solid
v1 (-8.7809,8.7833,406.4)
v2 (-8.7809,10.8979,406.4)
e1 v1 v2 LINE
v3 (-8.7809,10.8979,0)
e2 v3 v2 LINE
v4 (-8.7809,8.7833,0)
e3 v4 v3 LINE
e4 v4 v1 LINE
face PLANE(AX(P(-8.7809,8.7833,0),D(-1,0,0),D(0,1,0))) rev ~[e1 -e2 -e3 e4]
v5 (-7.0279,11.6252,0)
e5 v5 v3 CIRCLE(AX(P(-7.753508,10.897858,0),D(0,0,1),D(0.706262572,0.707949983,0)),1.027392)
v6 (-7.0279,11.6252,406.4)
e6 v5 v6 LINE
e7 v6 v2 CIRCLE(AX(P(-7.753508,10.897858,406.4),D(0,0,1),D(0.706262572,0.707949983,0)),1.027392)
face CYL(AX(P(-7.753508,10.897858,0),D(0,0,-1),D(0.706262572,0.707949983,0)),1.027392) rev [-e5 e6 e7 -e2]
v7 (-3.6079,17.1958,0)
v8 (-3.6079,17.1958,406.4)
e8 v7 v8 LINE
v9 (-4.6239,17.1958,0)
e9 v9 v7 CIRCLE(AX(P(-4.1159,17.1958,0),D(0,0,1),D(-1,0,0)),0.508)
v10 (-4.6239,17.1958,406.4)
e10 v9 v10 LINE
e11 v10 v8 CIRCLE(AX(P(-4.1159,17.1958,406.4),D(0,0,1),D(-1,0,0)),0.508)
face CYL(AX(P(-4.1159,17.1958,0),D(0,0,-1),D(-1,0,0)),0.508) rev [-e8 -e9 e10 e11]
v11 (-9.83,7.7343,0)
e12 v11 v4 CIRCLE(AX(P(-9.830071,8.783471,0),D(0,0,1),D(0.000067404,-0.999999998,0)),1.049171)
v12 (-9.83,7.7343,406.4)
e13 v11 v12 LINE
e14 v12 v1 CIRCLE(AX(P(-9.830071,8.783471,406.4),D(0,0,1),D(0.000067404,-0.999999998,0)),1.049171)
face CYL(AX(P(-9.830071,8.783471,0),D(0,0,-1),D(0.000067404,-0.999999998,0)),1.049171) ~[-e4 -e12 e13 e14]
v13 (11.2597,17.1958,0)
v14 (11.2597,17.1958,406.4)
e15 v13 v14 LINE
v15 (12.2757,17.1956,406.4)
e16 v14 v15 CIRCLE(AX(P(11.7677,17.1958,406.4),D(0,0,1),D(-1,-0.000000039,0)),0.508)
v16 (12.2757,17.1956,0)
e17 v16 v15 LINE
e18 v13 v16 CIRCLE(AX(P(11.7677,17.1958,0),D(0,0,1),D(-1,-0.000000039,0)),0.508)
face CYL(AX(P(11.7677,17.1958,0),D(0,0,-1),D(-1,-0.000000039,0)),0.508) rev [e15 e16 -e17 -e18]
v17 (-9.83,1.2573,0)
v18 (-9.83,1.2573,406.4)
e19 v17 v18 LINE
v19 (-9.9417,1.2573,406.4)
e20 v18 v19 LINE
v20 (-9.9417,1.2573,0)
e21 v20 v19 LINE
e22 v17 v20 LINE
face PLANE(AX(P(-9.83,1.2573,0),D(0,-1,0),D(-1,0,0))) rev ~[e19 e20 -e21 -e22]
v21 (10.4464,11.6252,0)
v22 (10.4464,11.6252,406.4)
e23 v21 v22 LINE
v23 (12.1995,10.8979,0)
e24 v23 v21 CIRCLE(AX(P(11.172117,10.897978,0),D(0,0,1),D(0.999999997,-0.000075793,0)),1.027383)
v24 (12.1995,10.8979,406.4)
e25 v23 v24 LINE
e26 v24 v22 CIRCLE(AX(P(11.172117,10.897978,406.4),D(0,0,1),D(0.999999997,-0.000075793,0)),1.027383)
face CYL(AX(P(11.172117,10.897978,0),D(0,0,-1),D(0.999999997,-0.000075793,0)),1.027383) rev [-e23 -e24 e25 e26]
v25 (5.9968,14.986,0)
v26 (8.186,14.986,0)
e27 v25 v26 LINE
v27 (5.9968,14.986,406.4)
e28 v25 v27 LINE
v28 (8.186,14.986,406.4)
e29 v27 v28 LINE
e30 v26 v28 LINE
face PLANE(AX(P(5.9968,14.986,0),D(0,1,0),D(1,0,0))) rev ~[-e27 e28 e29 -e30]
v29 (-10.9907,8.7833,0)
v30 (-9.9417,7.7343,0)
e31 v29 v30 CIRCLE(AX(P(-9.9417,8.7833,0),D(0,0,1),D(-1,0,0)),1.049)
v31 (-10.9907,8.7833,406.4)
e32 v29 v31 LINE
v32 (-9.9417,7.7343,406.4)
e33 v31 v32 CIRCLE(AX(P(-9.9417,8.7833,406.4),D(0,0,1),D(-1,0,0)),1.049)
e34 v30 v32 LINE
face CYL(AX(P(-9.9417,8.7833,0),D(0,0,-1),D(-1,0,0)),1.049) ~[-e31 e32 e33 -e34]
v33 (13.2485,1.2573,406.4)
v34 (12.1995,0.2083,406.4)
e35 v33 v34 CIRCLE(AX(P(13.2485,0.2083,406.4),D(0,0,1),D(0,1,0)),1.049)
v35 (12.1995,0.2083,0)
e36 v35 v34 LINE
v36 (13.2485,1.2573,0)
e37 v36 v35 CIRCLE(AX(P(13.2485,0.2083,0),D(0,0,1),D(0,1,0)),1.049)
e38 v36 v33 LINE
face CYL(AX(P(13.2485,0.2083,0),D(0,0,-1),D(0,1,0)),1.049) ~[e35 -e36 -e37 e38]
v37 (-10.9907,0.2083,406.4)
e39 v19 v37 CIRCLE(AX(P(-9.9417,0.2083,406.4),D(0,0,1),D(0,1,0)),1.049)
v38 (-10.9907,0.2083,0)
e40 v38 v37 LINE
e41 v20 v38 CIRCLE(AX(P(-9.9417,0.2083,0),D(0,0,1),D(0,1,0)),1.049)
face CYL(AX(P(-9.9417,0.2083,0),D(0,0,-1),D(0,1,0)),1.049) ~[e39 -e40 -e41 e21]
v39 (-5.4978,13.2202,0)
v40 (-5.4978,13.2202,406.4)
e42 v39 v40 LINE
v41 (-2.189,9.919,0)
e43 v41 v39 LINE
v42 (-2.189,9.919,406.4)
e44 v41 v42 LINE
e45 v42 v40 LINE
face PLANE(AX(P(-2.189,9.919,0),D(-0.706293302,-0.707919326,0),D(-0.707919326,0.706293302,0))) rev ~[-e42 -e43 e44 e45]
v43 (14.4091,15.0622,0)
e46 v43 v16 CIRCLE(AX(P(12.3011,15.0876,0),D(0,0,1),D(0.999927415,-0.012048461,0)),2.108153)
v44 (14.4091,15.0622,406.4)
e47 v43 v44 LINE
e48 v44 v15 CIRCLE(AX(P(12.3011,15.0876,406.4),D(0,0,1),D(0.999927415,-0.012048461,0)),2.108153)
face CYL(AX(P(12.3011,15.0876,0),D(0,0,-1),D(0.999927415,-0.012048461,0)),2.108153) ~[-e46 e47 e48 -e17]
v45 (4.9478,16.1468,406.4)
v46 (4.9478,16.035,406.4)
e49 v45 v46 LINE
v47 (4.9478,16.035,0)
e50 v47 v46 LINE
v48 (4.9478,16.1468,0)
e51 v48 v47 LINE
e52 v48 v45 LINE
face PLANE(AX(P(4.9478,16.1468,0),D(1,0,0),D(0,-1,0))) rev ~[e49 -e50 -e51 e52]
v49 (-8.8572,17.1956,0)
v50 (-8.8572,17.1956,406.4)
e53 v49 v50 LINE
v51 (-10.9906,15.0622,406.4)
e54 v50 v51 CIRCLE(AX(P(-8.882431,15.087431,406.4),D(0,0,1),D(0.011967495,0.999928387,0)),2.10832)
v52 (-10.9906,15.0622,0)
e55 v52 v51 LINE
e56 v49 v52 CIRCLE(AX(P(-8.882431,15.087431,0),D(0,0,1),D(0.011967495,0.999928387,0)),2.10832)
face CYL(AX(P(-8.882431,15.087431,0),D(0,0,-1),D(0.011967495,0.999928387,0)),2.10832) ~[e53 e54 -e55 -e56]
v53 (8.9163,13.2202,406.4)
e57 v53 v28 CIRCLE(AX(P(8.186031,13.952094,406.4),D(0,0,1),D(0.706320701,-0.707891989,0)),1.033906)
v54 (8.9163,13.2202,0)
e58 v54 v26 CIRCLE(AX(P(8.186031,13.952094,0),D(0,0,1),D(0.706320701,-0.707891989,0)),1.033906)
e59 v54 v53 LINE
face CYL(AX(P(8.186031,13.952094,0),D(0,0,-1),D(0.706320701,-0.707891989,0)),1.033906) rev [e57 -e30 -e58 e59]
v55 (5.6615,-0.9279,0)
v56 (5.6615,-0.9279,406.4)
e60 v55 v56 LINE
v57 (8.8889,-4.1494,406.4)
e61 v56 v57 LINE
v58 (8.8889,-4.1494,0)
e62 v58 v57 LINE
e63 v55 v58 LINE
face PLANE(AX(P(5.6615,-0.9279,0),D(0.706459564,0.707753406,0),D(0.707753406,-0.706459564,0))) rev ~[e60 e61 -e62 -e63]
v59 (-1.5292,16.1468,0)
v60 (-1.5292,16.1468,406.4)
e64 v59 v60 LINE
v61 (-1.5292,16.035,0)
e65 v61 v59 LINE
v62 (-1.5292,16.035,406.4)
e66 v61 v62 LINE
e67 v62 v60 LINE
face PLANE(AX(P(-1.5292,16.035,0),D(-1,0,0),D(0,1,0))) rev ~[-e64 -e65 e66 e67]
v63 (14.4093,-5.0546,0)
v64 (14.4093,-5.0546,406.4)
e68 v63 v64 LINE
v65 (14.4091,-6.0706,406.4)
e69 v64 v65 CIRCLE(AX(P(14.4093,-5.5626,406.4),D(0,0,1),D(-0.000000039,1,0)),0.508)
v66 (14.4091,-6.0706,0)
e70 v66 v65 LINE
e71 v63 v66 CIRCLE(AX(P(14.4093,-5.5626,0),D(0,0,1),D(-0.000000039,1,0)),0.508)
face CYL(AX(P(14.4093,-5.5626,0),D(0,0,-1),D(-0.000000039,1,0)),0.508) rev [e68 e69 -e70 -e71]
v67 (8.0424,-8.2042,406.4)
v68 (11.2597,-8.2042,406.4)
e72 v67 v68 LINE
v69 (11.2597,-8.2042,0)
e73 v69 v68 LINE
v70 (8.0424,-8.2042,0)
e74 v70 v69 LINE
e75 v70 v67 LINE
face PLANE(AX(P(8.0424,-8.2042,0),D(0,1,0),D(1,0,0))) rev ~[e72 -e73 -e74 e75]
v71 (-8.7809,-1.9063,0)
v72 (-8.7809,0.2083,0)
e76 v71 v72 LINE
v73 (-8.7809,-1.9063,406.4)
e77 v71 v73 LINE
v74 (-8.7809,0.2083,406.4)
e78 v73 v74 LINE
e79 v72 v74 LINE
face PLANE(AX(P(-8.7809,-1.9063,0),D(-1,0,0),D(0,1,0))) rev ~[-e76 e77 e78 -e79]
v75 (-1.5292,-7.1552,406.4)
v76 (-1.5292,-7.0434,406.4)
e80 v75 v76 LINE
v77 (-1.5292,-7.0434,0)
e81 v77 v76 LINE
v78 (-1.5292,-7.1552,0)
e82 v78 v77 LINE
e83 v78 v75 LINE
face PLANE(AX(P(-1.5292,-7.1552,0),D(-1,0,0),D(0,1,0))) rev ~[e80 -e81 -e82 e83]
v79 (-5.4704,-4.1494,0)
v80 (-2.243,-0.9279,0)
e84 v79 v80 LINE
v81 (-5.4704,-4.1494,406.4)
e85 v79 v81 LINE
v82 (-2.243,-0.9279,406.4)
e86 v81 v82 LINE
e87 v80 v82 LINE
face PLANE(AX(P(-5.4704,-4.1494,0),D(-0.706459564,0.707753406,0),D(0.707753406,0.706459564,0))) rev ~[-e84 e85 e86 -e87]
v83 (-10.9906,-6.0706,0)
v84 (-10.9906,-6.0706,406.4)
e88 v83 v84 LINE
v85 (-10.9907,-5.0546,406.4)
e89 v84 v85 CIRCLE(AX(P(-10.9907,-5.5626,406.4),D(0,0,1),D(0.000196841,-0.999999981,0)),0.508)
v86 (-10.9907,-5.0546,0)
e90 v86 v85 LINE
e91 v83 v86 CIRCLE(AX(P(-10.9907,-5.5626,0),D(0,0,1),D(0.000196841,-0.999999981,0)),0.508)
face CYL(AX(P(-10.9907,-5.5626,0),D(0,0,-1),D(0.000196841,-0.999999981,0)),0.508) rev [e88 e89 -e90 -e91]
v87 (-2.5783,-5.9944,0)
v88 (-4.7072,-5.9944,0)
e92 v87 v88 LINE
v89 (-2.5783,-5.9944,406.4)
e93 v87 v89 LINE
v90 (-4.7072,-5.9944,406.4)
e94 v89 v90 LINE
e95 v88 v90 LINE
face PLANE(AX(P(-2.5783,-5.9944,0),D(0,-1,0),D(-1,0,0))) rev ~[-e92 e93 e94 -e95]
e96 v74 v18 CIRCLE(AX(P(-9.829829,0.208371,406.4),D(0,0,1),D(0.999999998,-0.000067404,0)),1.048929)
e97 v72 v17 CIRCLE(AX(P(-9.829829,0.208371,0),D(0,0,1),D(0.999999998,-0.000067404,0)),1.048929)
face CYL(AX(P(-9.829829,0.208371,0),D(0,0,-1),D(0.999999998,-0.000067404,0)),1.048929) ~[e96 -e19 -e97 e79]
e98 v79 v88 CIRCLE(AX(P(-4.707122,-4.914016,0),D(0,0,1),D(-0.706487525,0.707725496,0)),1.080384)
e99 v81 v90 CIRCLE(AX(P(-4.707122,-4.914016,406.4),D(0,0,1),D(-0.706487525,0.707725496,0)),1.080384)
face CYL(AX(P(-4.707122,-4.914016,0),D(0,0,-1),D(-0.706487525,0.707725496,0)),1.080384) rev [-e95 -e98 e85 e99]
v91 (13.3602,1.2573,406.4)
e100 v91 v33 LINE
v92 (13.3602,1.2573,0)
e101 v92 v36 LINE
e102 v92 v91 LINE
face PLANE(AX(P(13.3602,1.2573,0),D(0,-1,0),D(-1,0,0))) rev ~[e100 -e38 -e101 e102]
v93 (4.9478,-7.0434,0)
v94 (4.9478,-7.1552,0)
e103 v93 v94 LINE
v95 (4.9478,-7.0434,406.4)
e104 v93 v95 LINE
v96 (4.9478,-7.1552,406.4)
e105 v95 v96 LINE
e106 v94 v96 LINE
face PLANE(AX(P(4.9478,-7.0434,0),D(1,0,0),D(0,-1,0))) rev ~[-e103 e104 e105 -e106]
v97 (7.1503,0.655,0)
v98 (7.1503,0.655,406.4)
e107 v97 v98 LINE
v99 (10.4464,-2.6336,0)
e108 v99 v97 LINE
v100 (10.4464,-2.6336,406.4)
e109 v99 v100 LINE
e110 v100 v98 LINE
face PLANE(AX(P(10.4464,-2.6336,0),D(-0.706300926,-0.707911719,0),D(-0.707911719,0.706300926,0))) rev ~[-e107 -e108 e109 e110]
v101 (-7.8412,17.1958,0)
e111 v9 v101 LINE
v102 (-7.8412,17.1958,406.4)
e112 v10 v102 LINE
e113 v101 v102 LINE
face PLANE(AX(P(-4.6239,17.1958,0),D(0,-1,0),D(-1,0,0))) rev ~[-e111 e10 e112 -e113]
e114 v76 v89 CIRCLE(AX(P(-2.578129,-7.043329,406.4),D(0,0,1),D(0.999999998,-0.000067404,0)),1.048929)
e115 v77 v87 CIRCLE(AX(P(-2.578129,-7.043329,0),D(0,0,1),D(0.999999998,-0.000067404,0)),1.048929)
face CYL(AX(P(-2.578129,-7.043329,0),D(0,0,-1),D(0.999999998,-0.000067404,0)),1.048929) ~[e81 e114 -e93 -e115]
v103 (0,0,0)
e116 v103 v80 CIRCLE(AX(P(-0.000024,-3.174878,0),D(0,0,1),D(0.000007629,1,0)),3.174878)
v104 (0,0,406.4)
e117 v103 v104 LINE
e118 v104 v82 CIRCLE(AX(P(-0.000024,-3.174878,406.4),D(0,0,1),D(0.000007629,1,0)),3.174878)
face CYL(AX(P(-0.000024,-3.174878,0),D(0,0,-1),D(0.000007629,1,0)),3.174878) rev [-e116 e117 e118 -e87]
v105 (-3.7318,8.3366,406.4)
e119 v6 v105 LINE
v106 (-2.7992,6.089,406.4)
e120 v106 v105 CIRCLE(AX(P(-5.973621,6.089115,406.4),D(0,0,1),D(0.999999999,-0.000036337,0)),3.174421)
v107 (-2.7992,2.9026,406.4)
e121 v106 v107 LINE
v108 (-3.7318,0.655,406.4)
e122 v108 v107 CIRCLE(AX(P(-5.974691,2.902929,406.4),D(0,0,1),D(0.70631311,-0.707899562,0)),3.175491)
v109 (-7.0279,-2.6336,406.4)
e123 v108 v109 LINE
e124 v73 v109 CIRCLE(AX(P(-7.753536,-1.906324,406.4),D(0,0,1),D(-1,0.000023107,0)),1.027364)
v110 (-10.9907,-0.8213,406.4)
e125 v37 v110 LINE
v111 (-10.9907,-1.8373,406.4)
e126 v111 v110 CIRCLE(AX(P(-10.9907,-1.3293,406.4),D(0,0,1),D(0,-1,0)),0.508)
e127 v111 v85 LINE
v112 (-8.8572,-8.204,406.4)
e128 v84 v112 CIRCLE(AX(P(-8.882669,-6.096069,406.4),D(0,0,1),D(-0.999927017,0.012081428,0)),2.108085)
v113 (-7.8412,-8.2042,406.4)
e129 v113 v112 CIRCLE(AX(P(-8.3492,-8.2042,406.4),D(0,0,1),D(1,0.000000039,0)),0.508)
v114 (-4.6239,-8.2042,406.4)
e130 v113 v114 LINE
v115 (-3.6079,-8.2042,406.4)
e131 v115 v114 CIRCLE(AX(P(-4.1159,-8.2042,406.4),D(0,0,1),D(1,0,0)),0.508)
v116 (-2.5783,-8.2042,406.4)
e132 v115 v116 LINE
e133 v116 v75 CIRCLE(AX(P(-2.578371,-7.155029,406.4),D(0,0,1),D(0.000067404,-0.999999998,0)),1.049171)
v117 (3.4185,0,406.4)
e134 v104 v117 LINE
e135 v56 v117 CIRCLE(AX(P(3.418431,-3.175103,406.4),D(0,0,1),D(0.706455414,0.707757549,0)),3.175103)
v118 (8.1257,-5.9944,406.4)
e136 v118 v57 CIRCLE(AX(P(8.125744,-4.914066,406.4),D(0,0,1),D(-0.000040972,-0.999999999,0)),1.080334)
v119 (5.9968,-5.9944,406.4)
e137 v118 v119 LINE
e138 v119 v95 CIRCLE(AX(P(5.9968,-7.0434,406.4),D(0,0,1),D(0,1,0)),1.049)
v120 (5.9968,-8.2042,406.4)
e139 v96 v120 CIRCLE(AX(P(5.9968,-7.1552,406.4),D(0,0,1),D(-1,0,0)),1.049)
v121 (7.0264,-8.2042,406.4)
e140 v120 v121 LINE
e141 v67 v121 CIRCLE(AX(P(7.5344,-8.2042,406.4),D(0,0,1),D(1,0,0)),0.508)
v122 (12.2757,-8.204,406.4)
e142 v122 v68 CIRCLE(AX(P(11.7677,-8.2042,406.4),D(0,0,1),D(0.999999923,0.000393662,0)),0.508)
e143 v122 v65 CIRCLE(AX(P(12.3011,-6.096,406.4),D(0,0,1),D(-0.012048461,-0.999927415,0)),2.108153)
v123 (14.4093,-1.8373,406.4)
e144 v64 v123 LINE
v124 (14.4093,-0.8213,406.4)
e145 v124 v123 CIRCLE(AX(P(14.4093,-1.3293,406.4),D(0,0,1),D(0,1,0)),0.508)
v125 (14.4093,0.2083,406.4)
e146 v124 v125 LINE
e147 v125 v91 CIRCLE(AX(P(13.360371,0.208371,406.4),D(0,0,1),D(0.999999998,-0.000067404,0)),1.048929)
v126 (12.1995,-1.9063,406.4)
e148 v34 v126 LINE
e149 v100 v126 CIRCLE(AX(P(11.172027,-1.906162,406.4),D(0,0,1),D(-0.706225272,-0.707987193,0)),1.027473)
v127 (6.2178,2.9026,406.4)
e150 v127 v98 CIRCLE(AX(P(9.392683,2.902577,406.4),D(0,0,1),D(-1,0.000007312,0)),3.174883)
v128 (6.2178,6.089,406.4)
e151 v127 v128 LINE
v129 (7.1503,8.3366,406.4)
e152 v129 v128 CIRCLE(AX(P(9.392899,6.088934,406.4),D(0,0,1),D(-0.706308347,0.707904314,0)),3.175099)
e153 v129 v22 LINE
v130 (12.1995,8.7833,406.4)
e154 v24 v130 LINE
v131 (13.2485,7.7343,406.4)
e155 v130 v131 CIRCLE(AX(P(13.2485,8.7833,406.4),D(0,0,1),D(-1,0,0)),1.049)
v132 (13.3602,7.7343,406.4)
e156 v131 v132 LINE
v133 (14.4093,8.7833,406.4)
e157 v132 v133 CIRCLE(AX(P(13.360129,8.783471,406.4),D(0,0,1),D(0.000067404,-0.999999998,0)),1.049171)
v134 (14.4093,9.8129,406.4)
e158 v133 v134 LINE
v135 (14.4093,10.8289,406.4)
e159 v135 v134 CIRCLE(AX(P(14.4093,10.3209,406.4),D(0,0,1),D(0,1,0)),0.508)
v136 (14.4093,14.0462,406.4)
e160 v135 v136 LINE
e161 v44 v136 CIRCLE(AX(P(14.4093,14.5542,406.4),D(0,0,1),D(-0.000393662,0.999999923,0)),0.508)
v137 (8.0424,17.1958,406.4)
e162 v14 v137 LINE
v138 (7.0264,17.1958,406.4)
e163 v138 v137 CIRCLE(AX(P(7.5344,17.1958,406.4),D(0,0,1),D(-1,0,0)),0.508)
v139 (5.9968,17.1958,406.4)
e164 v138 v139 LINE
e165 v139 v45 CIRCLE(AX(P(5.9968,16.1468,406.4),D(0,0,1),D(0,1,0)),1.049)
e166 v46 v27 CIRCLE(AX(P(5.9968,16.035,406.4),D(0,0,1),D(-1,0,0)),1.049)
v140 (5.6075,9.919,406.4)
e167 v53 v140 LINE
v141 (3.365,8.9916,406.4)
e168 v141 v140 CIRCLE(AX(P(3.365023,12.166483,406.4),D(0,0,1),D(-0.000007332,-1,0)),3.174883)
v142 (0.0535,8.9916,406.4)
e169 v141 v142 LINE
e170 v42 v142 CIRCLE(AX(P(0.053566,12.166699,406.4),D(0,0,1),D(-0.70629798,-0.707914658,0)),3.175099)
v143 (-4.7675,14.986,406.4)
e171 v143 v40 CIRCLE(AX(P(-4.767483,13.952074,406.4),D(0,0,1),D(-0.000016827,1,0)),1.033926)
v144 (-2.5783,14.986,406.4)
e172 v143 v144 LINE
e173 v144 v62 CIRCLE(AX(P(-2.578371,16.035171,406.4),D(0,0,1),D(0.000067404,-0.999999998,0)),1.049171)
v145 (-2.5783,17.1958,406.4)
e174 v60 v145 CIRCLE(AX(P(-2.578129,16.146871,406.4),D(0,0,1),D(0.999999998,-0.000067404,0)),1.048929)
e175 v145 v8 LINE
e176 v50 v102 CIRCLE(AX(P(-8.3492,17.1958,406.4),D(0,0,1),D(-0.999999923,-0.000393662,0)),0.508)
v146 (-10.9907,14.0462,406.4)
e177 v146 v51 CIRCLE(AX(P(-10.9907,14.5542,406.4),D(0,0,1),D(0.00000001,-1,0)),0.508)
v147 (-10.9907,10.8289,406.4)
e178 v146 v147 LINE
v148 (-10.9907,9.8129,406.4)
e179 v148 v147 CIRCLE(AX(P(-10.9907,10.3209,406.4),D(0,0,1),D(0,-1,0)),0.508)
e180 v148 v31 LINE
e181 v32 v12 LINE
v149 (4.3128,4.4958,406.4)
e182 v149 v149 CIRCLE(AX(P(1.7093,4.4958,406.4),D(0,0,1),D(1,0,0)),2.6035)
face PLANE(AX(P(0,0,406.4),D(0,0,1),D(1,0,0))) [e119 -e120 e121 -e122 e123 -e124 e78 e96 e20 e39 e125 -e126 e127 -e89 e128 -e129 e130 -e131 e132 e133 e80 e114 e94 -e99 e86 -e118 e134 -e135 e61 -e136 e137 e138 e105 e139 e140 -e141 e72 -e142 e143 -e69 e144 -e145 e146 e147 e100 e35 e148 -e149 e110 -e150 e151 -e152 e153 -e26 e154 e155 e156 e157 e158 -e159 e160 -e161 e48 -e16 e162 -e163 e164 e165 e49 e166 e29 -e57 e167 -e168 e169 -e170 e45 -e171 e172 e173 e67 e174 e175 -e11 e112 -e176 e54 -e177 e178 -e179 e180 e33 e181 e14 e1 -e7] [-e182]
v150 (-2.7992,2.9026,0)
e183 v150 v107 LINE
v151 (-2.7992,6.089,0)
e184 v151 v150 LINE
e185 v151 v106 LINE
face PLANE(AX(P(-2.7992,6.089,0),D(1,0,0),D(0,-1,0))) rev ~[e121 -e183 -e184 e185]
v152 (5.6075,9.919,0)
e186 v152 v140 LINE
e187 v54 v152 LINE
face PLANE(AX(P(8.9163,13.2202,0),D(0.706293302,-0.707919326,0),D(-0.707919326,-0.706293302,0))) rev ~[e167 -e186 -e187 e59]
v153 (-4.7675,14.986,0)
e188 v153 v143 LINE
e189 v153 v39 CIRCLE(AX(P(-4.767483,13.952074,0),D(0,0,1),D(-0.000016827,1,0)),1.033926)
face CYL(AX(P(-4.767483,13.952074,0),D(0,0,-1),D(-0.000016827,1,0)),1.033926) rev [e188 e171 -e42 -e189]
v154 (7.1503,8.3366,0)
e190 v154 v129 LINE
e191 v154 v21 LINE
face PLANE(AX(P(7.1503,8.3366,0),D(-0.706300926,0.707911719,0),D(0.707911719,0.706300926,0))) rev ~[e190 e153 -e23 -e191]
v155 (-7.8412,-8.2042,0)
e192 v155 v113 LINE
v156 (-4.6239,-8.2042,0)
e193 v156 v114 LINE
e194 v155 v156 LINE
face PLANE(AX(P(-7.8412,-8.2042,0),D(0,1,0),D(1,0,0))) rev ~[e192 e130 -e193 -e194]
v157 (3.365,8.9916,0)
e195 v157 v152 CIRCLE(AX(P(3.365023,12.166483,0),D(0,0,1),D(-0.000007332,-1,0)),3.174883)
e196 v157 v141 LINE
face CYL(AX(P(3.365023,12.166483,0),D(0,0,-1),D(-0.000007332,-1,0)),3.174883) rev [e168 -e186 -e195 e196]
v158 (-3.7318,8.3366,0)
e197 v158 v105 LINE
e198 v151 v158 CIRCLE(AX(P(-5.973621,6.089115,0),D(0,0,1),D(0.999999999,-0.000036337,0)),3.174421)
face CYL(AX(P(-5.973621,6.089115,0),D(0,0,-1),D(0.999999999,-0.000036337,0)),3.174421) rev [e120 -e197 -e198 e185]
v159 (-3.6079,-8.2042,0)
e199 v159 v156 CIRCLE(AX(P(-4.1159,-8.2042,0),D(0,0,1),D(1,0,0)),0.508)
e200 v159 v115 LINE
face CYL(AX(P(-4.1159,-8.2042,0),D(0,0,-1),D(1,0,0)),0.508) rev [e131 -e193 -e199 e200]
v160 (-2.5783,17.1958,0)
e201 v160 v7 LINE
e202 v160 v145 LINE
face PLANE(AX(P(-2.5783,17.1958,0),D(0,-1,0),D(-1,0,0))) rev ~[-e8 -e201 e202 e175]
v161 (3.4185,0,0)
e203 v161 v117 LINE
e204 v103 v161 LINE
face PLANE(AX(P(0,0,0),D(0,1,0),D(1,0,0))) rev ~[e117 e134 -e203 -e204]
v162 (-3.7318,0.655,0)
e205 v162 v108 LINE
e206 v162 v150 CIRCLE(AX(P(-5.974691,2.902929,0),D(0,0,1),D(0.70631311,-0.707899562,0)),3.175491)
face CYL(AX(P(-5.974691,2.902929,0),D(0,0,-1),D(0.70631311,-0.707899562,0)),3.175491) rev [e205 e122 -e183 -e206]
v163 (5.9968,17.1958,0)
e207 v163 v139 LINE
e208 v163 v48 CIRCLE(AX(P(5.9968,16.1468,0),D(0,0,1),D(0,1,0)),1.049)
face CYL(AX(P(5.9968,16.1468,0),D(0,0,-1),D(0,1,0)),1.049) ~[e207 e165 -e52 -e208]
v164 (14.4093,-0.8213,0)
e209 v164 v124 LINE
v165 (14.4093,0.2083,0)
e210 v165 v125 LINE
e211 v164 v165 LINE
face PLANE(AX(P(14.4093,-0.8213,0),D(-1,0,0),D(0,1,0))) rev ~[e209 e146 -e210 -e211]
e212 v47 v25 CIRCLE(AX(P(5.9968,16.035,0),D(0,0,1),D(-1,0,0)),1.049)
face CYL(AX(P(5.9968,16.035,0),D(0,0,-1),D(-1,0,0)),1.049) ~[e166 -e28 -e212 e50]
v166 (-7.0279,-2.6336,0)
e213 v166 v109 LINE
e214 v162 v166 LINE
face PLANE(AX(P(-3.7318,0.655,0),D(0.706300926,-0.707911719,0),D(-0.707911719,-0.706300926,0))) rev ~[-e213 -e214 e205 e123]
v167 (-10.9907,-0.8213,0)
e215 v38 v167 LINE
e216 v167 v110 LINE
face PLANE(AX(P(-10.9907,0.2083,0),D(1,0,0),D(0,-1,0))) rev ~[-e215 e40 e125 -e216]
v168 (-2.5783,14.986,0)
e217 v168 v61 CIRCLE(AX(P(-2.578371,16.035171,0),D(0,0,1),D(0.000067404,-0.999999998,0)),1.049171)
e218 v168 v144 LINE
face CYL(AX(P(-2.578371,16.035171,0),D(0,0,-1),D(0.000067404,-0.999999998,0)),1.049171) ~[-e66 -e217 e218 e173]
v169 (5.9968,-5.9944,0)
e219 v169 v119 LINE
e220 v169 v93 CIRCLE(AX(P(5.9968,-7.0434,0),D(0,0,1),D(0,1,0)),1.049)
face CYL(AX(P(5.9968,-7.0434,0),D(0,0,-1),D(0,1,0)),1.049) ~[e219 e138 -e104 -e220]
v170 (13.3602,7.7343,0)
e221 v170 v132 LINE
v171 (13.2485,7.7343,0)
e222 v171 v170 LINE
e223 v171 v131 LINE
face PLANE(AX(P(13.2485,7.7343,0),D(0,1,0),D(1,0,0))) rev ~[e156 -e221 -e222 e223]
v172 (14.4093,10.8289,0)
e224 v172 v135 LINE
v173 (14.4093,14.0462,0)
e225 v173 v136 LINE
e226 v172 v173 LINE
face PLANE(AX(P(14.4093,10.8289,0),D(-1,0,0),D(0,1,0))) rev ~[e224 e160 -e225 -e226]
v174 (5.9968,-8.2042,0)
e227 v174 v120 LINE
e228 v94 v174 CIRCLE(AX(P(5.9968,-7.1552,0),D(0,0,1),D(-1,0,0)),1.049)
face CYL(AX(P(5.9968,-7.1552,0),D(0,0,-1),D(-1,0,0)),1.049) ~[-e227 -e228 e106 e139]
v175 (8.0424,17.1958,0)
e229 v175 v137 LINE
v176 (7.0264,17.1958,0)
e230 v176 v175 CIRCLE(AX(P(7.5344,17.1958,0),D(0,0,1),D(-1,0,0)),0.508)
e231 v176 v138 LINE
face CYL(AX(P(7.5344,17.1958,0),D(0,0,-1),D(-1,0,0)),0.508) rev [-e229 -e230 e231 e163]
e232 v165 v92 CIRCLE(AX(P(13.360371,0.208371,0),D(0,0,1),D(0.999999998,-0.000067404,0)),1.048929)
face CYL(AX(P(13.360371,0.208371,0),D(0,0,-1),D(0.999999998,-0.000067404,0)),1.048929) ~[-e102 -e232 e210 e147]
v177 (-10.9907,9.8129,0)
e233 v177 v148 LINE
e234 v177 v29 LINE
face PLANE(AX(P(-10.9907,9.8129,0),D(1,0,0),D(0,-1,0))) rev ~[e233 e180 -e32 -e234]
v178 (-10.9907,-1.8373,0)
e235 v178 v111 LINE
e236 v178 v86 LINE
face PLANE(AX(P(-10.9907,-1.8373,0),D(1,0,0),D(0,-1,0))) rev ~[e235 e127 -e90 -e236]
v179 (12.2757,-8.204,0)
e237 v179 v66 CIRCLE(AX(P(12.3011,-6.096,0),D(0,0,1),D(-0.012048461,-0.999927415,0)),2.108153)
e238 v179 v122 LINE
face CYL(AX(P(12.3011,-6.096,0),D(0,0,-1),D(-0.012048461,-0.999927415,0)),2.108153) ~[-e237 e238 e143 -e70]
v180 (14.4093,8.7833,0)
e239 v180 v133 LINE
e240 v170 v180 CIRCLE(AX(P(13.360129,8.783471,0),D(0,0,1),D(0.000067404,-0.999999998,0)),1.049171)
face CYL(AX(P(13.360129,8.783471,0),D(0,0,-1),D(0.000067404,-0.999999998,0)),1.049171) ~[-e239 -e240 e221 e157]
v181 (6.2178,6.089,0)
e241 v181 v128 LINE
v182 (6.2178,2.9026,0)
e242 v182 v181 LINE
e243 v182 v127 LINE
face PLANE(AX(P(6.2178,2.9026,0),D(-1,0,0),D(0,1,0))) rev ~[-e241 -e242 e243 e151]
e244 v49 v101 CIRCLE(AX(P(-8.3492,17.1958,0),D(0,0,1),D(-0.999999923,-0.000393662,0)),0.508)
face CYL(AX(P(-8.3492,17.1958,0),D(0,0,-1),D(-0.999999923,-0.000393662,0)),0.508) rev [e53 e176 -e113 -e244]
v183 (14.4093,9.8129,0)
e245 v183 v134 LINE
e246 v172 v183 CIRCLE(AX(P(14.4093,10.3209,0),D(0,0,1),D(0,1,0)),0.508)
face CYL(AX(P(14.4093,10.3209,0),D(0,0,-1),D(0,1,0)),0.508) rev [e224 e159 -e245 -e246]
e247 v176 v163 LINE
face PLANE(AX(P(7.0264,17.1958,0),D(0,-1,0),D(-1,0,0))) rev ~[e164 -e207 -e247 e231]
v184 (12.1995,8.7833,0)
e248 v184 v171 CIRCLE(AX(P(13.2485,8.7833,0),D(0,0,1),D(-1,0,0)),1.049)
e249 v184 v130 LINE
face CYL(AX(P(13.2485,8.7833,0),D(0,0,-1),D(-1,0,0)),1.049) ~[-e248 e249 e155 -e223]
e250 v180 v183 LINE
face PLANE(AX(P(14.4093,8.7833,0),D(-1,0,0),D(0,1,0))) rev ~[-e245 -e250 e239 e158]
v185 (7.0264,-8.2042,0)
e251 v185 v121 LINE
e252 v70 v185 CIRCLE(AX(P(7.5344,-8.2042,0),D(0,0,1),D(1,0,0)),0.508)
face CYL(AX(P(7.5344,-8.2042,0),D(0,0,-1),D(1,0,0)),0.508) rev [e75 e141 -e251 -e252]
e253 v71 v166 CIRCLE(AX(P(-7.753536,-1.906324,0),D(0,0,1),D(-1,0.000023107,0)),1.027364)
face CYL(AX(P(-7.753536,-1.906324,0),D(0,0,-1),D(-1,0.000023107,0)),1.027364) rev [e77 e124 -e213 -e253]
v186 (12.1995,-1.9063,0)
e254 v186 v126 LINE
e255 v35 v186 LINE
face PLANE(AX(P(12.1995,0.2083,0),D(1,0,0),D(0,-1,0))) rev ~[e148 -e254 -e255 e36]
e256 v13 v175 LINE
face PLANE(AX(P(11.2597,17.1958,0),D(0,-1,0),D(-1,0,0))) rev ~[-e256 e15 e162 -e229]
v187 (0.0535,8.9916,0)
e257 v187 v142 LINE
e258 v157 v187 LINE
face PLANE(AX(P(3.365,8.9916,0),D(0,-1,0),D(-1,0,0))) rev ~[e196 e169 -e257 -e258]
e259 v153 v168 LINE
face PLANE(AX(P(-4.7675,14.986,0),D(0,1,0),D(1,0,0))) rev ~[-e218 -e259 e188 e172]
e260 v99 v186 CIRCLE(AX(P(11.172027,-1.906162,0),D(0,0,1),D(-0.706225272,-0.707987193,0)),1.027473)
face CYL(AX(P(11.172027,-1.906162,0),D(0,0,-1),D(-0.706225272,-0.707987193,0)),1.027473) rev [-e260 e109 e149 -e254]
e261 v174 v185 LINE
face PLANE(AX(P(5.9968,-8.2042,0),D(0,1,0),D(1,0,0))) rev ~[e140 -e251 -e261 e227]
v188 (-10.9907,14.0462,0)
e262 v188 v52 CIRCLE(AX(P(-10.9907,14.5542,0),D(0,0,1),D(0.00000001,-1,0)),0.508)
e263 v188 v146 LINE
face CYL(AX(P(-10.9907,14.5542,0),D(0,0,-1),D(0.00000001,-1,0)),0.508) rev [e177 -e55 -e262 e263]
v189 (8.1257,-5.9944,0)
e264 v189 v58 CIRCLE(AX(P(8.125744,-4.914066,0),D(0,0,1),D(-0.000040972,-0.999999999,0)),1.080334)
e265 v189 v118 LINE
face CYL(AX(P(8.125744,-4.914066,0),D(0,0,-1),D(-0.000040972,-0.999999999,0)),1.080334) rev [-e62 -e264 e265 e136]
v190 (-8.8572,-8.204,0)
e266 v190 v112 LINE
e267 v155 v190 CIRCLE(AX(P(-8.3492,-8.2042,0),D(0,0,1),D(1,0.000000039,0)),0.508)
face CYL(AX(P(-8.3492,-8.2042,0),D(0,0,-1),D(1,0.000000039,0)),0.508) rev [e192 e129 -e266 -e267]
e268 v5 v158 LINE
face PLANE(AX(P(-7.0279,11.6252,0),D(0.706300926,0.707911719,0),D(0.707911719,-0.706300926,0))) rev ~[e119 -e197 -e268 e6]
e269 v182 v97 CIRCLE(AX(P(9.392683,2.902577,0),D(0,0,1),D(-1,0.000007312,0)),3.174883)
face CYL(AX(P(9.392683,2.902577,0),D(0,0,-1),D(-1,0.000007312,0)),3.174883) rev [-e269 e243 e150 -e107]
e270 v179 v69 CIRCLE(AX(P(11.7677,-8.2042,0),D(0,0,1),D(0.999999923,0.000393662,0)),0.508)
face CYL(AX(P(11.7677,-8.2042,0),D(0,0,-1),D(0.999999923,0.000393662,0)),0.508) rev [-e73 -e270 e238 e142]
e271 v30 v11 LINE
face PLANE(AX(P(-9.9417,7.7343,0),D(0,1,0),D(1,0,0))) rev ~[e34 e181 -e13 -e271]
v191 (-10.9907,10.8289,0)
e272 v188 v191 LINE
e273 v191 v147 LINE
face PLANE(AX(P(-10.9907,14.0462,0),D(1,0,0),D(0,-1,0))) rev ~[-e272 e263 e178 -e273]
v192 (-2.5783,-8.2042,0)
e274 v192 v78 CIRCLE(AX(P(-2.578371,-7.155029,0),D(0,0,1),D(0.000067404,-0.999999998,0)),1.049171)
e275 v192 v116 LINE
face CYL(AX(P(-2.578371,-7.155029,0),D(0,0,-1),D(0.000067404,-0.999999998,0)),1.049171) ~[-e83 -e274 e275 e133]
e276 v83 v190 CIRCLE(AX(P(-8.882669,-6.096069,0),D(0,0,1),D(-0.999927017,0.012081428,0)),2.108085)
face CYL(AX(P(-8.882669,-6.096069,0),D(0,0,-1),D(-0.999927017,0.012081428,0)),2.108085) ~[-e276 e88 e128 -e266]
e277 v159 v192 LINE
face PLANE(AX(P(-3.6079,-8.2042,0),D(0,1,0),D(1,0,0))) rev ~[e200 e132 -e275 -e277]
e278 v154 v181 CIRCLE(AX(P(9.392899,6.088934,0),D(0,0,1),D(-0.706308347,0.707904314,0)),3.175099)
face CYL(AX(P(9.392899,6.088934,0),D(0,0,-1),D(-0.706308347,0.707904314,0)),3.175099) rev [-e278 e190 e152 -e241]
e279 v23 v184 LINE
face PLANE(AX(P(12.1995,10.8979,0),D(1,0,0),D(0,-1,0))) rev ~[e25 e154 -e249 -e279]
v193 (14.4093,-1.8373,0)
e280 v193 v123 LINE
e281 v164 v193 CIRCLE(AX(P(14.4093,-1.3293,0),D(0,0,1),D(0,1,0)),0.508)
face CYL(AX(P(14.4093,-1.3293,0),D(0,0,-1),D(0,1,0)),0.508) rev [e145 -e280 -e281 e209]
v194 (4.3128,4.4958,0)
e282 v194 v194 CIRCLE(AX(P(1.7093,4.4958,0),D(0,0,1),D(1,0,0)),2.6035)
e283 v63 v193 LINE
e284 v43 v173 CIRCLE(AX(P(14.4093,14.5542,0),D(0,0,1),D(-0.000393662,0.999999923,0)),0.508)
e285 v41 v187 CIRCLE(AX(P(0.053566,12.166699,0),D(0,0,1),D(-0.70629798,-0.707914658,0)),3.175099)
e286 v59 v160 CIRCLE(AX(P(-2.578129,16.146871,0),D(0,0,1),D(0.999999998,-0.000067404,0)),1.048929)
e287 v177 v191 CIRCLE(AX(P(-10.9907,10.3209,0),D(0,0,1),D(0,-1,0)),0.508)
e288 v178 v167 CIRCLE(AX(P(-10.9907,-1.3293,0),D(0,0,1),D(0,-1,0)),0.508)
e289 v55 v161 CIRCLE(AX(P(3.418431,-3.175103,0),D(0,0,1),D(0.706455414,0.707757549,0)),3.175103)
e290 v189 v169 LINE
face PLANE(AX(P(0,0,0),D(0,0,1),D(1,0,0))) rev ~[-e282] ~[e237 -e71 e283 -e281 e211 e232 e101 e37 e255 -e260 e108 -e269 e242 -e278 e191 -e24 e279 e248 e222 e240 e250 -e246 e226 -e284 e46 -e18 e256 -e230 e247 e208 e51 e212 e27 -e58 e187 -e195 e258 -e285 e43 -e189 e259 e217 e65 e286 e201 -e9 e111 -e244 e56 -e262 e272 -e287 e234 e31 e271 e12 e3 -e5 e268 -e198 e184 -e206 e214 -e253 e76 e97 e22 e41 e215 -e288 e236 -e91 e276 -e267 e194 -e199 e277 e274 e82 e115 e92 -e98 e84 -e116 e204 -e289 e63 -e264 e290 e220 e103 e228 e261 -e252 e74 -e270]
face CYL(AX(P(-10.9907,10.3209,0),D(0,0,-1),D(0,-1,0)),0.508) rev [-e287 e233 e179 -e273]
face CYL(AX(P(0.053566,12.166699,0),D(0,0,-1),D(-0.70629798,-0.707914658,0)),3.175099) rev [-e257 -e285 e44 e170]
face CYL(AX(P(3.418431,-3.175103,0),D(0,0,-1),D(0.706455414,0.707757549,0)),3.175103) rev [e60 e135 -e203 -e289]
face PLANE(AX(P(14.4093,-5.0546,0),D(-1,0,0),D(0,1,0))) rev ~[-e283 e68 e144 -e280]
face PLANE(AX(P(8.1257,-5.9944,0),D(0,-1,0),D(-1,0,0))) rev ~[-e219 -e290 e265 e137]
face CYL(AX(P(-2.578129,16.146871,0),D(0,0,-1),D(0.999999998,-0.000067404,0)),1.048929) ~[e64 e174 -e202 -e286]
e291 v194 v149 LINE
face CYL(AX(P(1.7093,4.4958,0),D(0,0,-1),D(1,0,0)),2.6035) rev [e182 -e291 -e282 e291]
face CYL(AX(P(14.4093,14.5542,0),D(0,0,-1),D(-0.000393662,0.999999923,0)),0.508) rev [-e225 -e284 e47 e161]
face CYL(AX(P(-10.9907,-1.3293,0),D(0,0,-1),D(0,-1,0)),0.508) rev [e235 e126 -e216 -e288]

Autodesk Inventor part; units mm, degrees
ref_plane "YZ Plane" through (0, 0, 0) normal (1, 0, 0) x (0, 1, 0)
ref_plane "XZ Plane" through (0, 0, 0) normal (0, 1, 0) x (-1, 0, 0)
ref_plane "XY Plane" through (0, 0, 0) normal (0, 0, 1) x (1, 0, 0)
sketch "Sketch1" plane through (0, 0, 0) normal (0, 0, 1) x (1, 0, 0)
  arc A0 (-5.4704, -4.1494) -> (-4.7072, -5.9944) centre (-4.7072, -4.914) ccw
  line L0 (-5.4704, -4.1494) -> (-2.243, -0.9279)
  arc A1 (0, 0) -> (-2.243, -0.9279) centre (0, -3.175) ccw
  line L1 (0, 0) -> (3.4185, 0)
  arc A2 (5.6615, -0.9279) -> (3.4185, 0) centre (3.4185, -3.175) ccw
  line L2 (5.6615, -0.9279) -> (8.8889, -4.1494)
  arc A3 (8.1257, -5.9944) -> (8.8889, -4.1494) centre (8.1257, -4.914) ccw
  line L3 (8.1257, -5.9944) -> (5.9968, -5.9944)
  arc A4 (5.9968, -5.9944) -> (4.9478, -7.0434) centre (5.9968, -7.0434) ccw
  line L4 (4.9478, -7.0434) -> (4.9478, -7.1552)
  arc A5 (4.9478, -7.1552) -> (5.9968, -8.2042) centre (5.9968, -7.1552) ccw
  line L5 (5.9968, -8.2042) -> (7.0264, -8.2042)
  arc A6 (8.0424, -8.2042) -> (7.0264, -8.2042) centre (7.5344, -8.2042) ccw
  line L6 (8.0424, -8.2042) -> (11.2597, -8.2042)
  arc A7 (12.2757, -8.204) -> (11.2597, -8.2042) centre (11.7677, -8.2042) ccw
  arc A8 (12.2757, -8.204) -> (14.4091, -6.0706) centre (12.3011, -6.096) ccw
  arc A9 (14.4093, -5.0546) -> (14.4091, -6.0706) centre (14.4093, -5.5626) ccw
  line L7 (14.4093, -5.0546) -> (14.4093, -1.8373)
  arc A10 (14.4093, -0.8213) -> (14.4093, -1.8373) centre (14.4093, -1.3293) ccw
  line L8 (14.4093, -0.8213) -> (14.4093, 0.2083)
  arc A11 (14.4093, 0.2083) -> (13.3602, 1.2573) centre (13.3602, 0.2083) ccw
  line L9 (13.3602, 1.2573) -> (13.2485, 1.2573)
  arc A12 (13.2485, 1.2573) -> (12.1995, 0.2083) centre (13.2485, 0.2083) ccw
  line L10 (12.1995, 0.2083) -> (12.1995, -1.9063)
  arc A13 (10.4464, -2.6336) -> (12.1995, -1.9063) centre (11.172, -1.9063) ccw
  line L11 (10.4464, -2.6336) -> (7.1503, 0.655)
  arc A14 (6.2178, 2.9026) -> (7.1503, 0.655) centre (9.3928, 2.9026) ccw
  line L12 (6.2178, 2.9026) -> (6.2178, 6.089)
  arc A15 (7.1503, 8.3366) -> (6.2178, 6.089) centre (9.3928, 6.089) ccw
  line L13 (7.1503, 8.3366) -> (10.4464, 11.6252)
  arc A16 (12.1995, 10.8979) -> (10.4464, 11.6252) centre (11.172, 10.8979) ccw
  line L14 (12.1995, 10.8979) -> (12.1995, 8.7833)
  arc A17 (12.1995, 8.7833) -> (13.2485, 7.7343) centre (13.2485, 8.7833) ccw
  line L15 (13.2485, 7.7343) -> (13.3602, 7.7343)
  arc A18 (13.3602, 7.7343) -> (14.4093, 8.7833) centre (13.3602, 8.7833) ccw
  line L16 (14.4093, 8.7833) -> (14.4093, 9.8129)
  arc A19 (14.4093, 10.8289) -> (14.4093, 9.8129) centre (14.4093, 10.3209) ccw
  line L17 (14.4093, 10.8289) -> (14.4093, 14.0462)
  arc A20 (14.4091, 15.0622) -> (14.4093, 14.0462) centre (14.4093, 14.5542) ccw
  arc A21 (14.4091, 15.0622) -> (12.2757, 17.1956) centre (12.3011, 15.0876) ccw
  arc A22 (11.2597, 17.1958) -> (12.2757, 17.1956) centre (11.7677, 17.1958) ccw
  line L18 (11.2597, 17.1958) -> (8.0424, 17.1958)
  arc A23 (7.0264, 17.1958) -> (8.0424, 17.1958) centre (7.5344, 17.1958) ccw
  line L19 (7.0264, 17.1958) -> (5.9968, 17.1958)
  arc A24 (5.9968, 17.1958) -> (4.9478, 16.1468) centre (5.9968, 16.1468) ccw
  line L20 (4.9478, 16.1468) -> (4.9478, 16.035)
  arc A25 (4.9478, 16.035) -> (5.9968, 14.986) centre (5.9968, 16.035) ccw
  line L21 (5.9968, 14.986) -> (8.186, 14.986)
  arc A26 (8.9163, 13.2202) -> (8.186, 14.986) centre (8.186, 13.9521) ccw
  line L22 (8.9163, 13.2202) -> (5.6075, 9.919)
  arc A27 (3.365, 8.9916) -> (5.6075, 9.919) centre (3.365, 12.1666) ccw
  line L23 (3.365, 8.9916) -> (0.0535, 8.9916)
  arc A28 (-2.189, 9.919) -> (0.0535, 8.9916) centre (0.0535, 12.1666) ccw
  line L24 (-2.189, 9.919) -> (-5.4978, 13.2202)
  arc A29 (-4.7675, 14.986) -> (-5.4978, 13.2202) centre (-4.7675, 13.9521) ccw
  line L25 (-4.7675, 14.986) -> (-2.5783, 14.986)
  arc A30 (-2.5783, 14.986) -> (-1.5292, 16.035) centre (-2.5783, 16.035) ccw
  line L26 (-1.5292, 16.035) -> (-1.5292, 16.1468)
  arc A31 (-1.5292, 16.1468) -> (-2.5783, 17.1958) centre (-2.5783, 16.1468) ccw
  line L27 (-2.5783, 17.1958) -> (-3.6079, 17.1958)
  arc A32 (-4.6239, 17.1958) -> (-3.6079, 17.1958) centre (-4.1159, 17.1958) ccw
  line L28 (-4.6239, 17.1958) -> (-7.8412, 17.1958)
  arc A33 (-8.8572, 17.1956) -> (-7.8412, 17.1958) centre (-8.3492, 17.1958) ccw
  arc A34 (-8.8572, 17.1956) -> (-10.9906, 15.0622) centre (-8.8825, 15.0876) ccw
  arc A35 (-10.9907, 14.0462) -> (-10.9906, 15.0622) centre (-10.9907, 14.5542) ccw
  line L29 (-10.9907, 14.0462) -> (-10.9907, 10.8289)
  arc A36 (-10.9907, 9.8129) -> (-10.9907, 10.8289) centre (-10.9907, 10.3209) ccw
  line L30 (-10.9907, 9.8129) -> (-10.9907, 8.7833)
  arc A37 (-10.9907, 8.7833) -> (-9.9417, 7.7343) centre (-9.9417, 8.7833) ccw
  line L31 (-9.9417, 7.7343) -> (-9.83, 7.7343)
  arc A38 (-9.83, 7.7343) -> (-8.7809, 8.7833) centre (-9.83, 8.7833) ccw
  line L32 (-8.7809, 8.7833) -> (-8.7809, 10.8979)
  arc A39 (-7.0279, 11.6252) -> (-8.7809, 10.8979) centre (-7.7535, 10.8979) ccw
  line L33 (-7.0279, 11.6252) -> (-3.7318, 8.3366)
  arc A40 (-2.7992, 6.089) -> (-3.7318, 8.3366) centre (-5.9742, 6.089) ccw
  line L34 (-2.7992, 6.089) -> (-2.7992, 2.9026)
  arc A41 (-3.7318, 0.655) -> (-2.7992, 2.9026) centre (-5.9742, 2.9026) ccw
  line L35 (-3.7318, 0.655) -> (-7.0279, -2.6336)
  arc A42 (-8.7809, -1.9063) -> (-7.0279, -2.6336) centre (-7.7535, -1.9063) ccw
  line L36 (-8.7809, -1.9063) -> (-8.7809, 0.2083)
  arc A43 (-8.7809, 0.2083) -> (-9.83, 1.2573) centre (-9.83, 0.2083) ccw
  line L37 (-9.83, 1.2573) -> (-9.9417, 1.2573)
  arc A44 (-9.9417, 1.2573) -> (-10.9907, 0.2083) centre (-9.9417, 0.2083) ccw
  line L38 (-10.9907, 0.2083) -> (-10.9907, -0.8213)
  arc A45 (-10.9907, -1.8373) -> (-10.9907, -0.8213) centre (-10.9907, -1.3293) ccw
  line L39 (-10.9907, -1.8373) -> (-10.9907, -5.0546)
  arc A46 (-10.9906, -6.0706) -> (-10.9907, -5.0546) centre (-10.9907, -5.5626) ccw
  arc A47 (-10.9906, -6.0706) -> (-8.8572, -8.204) centre (-8.8825, -6.096) ccw
  arc A48 (-7.8412, -8.2042) -> (-8.8572, -8.204) centre (-8.3492, -8.2042) ccw
  line L40 (-7.8412, -8.2042) -> (-4.6239, -8.2042)
  arc A49 (-3.6079, -8.2042) -> (-4.6239, -8.2042) centre (-4.1159, -8.2042) ccw
  line L41 (-3.6079, -8.2042) -> (-2.5783, -8.2042)
  arc A50 (-2.5783, -8.2042) -> (-1.5292, -7.1552) centre (-2.5783, -7.1552) ccw
  line L42 (-1.5292, -7.1552) -> (-1.5292, -7.0434)
  arc A51 (-1.5292, -7.0434) -> (-2.5783, -5.9944) centre (-2.5783, -7.0434) ccw
  line L43 (-2.5783, -5.9944) -> (-4.7072, -5.9944)
  circle A52 centre (1.7093, 4.4958) radius 2.6035
extrude "Extrusion1" add sketch "Sketch1" along normal blind 406.4
properties part number "16 in 1x1 T slot" material "Steel, Alloy"
